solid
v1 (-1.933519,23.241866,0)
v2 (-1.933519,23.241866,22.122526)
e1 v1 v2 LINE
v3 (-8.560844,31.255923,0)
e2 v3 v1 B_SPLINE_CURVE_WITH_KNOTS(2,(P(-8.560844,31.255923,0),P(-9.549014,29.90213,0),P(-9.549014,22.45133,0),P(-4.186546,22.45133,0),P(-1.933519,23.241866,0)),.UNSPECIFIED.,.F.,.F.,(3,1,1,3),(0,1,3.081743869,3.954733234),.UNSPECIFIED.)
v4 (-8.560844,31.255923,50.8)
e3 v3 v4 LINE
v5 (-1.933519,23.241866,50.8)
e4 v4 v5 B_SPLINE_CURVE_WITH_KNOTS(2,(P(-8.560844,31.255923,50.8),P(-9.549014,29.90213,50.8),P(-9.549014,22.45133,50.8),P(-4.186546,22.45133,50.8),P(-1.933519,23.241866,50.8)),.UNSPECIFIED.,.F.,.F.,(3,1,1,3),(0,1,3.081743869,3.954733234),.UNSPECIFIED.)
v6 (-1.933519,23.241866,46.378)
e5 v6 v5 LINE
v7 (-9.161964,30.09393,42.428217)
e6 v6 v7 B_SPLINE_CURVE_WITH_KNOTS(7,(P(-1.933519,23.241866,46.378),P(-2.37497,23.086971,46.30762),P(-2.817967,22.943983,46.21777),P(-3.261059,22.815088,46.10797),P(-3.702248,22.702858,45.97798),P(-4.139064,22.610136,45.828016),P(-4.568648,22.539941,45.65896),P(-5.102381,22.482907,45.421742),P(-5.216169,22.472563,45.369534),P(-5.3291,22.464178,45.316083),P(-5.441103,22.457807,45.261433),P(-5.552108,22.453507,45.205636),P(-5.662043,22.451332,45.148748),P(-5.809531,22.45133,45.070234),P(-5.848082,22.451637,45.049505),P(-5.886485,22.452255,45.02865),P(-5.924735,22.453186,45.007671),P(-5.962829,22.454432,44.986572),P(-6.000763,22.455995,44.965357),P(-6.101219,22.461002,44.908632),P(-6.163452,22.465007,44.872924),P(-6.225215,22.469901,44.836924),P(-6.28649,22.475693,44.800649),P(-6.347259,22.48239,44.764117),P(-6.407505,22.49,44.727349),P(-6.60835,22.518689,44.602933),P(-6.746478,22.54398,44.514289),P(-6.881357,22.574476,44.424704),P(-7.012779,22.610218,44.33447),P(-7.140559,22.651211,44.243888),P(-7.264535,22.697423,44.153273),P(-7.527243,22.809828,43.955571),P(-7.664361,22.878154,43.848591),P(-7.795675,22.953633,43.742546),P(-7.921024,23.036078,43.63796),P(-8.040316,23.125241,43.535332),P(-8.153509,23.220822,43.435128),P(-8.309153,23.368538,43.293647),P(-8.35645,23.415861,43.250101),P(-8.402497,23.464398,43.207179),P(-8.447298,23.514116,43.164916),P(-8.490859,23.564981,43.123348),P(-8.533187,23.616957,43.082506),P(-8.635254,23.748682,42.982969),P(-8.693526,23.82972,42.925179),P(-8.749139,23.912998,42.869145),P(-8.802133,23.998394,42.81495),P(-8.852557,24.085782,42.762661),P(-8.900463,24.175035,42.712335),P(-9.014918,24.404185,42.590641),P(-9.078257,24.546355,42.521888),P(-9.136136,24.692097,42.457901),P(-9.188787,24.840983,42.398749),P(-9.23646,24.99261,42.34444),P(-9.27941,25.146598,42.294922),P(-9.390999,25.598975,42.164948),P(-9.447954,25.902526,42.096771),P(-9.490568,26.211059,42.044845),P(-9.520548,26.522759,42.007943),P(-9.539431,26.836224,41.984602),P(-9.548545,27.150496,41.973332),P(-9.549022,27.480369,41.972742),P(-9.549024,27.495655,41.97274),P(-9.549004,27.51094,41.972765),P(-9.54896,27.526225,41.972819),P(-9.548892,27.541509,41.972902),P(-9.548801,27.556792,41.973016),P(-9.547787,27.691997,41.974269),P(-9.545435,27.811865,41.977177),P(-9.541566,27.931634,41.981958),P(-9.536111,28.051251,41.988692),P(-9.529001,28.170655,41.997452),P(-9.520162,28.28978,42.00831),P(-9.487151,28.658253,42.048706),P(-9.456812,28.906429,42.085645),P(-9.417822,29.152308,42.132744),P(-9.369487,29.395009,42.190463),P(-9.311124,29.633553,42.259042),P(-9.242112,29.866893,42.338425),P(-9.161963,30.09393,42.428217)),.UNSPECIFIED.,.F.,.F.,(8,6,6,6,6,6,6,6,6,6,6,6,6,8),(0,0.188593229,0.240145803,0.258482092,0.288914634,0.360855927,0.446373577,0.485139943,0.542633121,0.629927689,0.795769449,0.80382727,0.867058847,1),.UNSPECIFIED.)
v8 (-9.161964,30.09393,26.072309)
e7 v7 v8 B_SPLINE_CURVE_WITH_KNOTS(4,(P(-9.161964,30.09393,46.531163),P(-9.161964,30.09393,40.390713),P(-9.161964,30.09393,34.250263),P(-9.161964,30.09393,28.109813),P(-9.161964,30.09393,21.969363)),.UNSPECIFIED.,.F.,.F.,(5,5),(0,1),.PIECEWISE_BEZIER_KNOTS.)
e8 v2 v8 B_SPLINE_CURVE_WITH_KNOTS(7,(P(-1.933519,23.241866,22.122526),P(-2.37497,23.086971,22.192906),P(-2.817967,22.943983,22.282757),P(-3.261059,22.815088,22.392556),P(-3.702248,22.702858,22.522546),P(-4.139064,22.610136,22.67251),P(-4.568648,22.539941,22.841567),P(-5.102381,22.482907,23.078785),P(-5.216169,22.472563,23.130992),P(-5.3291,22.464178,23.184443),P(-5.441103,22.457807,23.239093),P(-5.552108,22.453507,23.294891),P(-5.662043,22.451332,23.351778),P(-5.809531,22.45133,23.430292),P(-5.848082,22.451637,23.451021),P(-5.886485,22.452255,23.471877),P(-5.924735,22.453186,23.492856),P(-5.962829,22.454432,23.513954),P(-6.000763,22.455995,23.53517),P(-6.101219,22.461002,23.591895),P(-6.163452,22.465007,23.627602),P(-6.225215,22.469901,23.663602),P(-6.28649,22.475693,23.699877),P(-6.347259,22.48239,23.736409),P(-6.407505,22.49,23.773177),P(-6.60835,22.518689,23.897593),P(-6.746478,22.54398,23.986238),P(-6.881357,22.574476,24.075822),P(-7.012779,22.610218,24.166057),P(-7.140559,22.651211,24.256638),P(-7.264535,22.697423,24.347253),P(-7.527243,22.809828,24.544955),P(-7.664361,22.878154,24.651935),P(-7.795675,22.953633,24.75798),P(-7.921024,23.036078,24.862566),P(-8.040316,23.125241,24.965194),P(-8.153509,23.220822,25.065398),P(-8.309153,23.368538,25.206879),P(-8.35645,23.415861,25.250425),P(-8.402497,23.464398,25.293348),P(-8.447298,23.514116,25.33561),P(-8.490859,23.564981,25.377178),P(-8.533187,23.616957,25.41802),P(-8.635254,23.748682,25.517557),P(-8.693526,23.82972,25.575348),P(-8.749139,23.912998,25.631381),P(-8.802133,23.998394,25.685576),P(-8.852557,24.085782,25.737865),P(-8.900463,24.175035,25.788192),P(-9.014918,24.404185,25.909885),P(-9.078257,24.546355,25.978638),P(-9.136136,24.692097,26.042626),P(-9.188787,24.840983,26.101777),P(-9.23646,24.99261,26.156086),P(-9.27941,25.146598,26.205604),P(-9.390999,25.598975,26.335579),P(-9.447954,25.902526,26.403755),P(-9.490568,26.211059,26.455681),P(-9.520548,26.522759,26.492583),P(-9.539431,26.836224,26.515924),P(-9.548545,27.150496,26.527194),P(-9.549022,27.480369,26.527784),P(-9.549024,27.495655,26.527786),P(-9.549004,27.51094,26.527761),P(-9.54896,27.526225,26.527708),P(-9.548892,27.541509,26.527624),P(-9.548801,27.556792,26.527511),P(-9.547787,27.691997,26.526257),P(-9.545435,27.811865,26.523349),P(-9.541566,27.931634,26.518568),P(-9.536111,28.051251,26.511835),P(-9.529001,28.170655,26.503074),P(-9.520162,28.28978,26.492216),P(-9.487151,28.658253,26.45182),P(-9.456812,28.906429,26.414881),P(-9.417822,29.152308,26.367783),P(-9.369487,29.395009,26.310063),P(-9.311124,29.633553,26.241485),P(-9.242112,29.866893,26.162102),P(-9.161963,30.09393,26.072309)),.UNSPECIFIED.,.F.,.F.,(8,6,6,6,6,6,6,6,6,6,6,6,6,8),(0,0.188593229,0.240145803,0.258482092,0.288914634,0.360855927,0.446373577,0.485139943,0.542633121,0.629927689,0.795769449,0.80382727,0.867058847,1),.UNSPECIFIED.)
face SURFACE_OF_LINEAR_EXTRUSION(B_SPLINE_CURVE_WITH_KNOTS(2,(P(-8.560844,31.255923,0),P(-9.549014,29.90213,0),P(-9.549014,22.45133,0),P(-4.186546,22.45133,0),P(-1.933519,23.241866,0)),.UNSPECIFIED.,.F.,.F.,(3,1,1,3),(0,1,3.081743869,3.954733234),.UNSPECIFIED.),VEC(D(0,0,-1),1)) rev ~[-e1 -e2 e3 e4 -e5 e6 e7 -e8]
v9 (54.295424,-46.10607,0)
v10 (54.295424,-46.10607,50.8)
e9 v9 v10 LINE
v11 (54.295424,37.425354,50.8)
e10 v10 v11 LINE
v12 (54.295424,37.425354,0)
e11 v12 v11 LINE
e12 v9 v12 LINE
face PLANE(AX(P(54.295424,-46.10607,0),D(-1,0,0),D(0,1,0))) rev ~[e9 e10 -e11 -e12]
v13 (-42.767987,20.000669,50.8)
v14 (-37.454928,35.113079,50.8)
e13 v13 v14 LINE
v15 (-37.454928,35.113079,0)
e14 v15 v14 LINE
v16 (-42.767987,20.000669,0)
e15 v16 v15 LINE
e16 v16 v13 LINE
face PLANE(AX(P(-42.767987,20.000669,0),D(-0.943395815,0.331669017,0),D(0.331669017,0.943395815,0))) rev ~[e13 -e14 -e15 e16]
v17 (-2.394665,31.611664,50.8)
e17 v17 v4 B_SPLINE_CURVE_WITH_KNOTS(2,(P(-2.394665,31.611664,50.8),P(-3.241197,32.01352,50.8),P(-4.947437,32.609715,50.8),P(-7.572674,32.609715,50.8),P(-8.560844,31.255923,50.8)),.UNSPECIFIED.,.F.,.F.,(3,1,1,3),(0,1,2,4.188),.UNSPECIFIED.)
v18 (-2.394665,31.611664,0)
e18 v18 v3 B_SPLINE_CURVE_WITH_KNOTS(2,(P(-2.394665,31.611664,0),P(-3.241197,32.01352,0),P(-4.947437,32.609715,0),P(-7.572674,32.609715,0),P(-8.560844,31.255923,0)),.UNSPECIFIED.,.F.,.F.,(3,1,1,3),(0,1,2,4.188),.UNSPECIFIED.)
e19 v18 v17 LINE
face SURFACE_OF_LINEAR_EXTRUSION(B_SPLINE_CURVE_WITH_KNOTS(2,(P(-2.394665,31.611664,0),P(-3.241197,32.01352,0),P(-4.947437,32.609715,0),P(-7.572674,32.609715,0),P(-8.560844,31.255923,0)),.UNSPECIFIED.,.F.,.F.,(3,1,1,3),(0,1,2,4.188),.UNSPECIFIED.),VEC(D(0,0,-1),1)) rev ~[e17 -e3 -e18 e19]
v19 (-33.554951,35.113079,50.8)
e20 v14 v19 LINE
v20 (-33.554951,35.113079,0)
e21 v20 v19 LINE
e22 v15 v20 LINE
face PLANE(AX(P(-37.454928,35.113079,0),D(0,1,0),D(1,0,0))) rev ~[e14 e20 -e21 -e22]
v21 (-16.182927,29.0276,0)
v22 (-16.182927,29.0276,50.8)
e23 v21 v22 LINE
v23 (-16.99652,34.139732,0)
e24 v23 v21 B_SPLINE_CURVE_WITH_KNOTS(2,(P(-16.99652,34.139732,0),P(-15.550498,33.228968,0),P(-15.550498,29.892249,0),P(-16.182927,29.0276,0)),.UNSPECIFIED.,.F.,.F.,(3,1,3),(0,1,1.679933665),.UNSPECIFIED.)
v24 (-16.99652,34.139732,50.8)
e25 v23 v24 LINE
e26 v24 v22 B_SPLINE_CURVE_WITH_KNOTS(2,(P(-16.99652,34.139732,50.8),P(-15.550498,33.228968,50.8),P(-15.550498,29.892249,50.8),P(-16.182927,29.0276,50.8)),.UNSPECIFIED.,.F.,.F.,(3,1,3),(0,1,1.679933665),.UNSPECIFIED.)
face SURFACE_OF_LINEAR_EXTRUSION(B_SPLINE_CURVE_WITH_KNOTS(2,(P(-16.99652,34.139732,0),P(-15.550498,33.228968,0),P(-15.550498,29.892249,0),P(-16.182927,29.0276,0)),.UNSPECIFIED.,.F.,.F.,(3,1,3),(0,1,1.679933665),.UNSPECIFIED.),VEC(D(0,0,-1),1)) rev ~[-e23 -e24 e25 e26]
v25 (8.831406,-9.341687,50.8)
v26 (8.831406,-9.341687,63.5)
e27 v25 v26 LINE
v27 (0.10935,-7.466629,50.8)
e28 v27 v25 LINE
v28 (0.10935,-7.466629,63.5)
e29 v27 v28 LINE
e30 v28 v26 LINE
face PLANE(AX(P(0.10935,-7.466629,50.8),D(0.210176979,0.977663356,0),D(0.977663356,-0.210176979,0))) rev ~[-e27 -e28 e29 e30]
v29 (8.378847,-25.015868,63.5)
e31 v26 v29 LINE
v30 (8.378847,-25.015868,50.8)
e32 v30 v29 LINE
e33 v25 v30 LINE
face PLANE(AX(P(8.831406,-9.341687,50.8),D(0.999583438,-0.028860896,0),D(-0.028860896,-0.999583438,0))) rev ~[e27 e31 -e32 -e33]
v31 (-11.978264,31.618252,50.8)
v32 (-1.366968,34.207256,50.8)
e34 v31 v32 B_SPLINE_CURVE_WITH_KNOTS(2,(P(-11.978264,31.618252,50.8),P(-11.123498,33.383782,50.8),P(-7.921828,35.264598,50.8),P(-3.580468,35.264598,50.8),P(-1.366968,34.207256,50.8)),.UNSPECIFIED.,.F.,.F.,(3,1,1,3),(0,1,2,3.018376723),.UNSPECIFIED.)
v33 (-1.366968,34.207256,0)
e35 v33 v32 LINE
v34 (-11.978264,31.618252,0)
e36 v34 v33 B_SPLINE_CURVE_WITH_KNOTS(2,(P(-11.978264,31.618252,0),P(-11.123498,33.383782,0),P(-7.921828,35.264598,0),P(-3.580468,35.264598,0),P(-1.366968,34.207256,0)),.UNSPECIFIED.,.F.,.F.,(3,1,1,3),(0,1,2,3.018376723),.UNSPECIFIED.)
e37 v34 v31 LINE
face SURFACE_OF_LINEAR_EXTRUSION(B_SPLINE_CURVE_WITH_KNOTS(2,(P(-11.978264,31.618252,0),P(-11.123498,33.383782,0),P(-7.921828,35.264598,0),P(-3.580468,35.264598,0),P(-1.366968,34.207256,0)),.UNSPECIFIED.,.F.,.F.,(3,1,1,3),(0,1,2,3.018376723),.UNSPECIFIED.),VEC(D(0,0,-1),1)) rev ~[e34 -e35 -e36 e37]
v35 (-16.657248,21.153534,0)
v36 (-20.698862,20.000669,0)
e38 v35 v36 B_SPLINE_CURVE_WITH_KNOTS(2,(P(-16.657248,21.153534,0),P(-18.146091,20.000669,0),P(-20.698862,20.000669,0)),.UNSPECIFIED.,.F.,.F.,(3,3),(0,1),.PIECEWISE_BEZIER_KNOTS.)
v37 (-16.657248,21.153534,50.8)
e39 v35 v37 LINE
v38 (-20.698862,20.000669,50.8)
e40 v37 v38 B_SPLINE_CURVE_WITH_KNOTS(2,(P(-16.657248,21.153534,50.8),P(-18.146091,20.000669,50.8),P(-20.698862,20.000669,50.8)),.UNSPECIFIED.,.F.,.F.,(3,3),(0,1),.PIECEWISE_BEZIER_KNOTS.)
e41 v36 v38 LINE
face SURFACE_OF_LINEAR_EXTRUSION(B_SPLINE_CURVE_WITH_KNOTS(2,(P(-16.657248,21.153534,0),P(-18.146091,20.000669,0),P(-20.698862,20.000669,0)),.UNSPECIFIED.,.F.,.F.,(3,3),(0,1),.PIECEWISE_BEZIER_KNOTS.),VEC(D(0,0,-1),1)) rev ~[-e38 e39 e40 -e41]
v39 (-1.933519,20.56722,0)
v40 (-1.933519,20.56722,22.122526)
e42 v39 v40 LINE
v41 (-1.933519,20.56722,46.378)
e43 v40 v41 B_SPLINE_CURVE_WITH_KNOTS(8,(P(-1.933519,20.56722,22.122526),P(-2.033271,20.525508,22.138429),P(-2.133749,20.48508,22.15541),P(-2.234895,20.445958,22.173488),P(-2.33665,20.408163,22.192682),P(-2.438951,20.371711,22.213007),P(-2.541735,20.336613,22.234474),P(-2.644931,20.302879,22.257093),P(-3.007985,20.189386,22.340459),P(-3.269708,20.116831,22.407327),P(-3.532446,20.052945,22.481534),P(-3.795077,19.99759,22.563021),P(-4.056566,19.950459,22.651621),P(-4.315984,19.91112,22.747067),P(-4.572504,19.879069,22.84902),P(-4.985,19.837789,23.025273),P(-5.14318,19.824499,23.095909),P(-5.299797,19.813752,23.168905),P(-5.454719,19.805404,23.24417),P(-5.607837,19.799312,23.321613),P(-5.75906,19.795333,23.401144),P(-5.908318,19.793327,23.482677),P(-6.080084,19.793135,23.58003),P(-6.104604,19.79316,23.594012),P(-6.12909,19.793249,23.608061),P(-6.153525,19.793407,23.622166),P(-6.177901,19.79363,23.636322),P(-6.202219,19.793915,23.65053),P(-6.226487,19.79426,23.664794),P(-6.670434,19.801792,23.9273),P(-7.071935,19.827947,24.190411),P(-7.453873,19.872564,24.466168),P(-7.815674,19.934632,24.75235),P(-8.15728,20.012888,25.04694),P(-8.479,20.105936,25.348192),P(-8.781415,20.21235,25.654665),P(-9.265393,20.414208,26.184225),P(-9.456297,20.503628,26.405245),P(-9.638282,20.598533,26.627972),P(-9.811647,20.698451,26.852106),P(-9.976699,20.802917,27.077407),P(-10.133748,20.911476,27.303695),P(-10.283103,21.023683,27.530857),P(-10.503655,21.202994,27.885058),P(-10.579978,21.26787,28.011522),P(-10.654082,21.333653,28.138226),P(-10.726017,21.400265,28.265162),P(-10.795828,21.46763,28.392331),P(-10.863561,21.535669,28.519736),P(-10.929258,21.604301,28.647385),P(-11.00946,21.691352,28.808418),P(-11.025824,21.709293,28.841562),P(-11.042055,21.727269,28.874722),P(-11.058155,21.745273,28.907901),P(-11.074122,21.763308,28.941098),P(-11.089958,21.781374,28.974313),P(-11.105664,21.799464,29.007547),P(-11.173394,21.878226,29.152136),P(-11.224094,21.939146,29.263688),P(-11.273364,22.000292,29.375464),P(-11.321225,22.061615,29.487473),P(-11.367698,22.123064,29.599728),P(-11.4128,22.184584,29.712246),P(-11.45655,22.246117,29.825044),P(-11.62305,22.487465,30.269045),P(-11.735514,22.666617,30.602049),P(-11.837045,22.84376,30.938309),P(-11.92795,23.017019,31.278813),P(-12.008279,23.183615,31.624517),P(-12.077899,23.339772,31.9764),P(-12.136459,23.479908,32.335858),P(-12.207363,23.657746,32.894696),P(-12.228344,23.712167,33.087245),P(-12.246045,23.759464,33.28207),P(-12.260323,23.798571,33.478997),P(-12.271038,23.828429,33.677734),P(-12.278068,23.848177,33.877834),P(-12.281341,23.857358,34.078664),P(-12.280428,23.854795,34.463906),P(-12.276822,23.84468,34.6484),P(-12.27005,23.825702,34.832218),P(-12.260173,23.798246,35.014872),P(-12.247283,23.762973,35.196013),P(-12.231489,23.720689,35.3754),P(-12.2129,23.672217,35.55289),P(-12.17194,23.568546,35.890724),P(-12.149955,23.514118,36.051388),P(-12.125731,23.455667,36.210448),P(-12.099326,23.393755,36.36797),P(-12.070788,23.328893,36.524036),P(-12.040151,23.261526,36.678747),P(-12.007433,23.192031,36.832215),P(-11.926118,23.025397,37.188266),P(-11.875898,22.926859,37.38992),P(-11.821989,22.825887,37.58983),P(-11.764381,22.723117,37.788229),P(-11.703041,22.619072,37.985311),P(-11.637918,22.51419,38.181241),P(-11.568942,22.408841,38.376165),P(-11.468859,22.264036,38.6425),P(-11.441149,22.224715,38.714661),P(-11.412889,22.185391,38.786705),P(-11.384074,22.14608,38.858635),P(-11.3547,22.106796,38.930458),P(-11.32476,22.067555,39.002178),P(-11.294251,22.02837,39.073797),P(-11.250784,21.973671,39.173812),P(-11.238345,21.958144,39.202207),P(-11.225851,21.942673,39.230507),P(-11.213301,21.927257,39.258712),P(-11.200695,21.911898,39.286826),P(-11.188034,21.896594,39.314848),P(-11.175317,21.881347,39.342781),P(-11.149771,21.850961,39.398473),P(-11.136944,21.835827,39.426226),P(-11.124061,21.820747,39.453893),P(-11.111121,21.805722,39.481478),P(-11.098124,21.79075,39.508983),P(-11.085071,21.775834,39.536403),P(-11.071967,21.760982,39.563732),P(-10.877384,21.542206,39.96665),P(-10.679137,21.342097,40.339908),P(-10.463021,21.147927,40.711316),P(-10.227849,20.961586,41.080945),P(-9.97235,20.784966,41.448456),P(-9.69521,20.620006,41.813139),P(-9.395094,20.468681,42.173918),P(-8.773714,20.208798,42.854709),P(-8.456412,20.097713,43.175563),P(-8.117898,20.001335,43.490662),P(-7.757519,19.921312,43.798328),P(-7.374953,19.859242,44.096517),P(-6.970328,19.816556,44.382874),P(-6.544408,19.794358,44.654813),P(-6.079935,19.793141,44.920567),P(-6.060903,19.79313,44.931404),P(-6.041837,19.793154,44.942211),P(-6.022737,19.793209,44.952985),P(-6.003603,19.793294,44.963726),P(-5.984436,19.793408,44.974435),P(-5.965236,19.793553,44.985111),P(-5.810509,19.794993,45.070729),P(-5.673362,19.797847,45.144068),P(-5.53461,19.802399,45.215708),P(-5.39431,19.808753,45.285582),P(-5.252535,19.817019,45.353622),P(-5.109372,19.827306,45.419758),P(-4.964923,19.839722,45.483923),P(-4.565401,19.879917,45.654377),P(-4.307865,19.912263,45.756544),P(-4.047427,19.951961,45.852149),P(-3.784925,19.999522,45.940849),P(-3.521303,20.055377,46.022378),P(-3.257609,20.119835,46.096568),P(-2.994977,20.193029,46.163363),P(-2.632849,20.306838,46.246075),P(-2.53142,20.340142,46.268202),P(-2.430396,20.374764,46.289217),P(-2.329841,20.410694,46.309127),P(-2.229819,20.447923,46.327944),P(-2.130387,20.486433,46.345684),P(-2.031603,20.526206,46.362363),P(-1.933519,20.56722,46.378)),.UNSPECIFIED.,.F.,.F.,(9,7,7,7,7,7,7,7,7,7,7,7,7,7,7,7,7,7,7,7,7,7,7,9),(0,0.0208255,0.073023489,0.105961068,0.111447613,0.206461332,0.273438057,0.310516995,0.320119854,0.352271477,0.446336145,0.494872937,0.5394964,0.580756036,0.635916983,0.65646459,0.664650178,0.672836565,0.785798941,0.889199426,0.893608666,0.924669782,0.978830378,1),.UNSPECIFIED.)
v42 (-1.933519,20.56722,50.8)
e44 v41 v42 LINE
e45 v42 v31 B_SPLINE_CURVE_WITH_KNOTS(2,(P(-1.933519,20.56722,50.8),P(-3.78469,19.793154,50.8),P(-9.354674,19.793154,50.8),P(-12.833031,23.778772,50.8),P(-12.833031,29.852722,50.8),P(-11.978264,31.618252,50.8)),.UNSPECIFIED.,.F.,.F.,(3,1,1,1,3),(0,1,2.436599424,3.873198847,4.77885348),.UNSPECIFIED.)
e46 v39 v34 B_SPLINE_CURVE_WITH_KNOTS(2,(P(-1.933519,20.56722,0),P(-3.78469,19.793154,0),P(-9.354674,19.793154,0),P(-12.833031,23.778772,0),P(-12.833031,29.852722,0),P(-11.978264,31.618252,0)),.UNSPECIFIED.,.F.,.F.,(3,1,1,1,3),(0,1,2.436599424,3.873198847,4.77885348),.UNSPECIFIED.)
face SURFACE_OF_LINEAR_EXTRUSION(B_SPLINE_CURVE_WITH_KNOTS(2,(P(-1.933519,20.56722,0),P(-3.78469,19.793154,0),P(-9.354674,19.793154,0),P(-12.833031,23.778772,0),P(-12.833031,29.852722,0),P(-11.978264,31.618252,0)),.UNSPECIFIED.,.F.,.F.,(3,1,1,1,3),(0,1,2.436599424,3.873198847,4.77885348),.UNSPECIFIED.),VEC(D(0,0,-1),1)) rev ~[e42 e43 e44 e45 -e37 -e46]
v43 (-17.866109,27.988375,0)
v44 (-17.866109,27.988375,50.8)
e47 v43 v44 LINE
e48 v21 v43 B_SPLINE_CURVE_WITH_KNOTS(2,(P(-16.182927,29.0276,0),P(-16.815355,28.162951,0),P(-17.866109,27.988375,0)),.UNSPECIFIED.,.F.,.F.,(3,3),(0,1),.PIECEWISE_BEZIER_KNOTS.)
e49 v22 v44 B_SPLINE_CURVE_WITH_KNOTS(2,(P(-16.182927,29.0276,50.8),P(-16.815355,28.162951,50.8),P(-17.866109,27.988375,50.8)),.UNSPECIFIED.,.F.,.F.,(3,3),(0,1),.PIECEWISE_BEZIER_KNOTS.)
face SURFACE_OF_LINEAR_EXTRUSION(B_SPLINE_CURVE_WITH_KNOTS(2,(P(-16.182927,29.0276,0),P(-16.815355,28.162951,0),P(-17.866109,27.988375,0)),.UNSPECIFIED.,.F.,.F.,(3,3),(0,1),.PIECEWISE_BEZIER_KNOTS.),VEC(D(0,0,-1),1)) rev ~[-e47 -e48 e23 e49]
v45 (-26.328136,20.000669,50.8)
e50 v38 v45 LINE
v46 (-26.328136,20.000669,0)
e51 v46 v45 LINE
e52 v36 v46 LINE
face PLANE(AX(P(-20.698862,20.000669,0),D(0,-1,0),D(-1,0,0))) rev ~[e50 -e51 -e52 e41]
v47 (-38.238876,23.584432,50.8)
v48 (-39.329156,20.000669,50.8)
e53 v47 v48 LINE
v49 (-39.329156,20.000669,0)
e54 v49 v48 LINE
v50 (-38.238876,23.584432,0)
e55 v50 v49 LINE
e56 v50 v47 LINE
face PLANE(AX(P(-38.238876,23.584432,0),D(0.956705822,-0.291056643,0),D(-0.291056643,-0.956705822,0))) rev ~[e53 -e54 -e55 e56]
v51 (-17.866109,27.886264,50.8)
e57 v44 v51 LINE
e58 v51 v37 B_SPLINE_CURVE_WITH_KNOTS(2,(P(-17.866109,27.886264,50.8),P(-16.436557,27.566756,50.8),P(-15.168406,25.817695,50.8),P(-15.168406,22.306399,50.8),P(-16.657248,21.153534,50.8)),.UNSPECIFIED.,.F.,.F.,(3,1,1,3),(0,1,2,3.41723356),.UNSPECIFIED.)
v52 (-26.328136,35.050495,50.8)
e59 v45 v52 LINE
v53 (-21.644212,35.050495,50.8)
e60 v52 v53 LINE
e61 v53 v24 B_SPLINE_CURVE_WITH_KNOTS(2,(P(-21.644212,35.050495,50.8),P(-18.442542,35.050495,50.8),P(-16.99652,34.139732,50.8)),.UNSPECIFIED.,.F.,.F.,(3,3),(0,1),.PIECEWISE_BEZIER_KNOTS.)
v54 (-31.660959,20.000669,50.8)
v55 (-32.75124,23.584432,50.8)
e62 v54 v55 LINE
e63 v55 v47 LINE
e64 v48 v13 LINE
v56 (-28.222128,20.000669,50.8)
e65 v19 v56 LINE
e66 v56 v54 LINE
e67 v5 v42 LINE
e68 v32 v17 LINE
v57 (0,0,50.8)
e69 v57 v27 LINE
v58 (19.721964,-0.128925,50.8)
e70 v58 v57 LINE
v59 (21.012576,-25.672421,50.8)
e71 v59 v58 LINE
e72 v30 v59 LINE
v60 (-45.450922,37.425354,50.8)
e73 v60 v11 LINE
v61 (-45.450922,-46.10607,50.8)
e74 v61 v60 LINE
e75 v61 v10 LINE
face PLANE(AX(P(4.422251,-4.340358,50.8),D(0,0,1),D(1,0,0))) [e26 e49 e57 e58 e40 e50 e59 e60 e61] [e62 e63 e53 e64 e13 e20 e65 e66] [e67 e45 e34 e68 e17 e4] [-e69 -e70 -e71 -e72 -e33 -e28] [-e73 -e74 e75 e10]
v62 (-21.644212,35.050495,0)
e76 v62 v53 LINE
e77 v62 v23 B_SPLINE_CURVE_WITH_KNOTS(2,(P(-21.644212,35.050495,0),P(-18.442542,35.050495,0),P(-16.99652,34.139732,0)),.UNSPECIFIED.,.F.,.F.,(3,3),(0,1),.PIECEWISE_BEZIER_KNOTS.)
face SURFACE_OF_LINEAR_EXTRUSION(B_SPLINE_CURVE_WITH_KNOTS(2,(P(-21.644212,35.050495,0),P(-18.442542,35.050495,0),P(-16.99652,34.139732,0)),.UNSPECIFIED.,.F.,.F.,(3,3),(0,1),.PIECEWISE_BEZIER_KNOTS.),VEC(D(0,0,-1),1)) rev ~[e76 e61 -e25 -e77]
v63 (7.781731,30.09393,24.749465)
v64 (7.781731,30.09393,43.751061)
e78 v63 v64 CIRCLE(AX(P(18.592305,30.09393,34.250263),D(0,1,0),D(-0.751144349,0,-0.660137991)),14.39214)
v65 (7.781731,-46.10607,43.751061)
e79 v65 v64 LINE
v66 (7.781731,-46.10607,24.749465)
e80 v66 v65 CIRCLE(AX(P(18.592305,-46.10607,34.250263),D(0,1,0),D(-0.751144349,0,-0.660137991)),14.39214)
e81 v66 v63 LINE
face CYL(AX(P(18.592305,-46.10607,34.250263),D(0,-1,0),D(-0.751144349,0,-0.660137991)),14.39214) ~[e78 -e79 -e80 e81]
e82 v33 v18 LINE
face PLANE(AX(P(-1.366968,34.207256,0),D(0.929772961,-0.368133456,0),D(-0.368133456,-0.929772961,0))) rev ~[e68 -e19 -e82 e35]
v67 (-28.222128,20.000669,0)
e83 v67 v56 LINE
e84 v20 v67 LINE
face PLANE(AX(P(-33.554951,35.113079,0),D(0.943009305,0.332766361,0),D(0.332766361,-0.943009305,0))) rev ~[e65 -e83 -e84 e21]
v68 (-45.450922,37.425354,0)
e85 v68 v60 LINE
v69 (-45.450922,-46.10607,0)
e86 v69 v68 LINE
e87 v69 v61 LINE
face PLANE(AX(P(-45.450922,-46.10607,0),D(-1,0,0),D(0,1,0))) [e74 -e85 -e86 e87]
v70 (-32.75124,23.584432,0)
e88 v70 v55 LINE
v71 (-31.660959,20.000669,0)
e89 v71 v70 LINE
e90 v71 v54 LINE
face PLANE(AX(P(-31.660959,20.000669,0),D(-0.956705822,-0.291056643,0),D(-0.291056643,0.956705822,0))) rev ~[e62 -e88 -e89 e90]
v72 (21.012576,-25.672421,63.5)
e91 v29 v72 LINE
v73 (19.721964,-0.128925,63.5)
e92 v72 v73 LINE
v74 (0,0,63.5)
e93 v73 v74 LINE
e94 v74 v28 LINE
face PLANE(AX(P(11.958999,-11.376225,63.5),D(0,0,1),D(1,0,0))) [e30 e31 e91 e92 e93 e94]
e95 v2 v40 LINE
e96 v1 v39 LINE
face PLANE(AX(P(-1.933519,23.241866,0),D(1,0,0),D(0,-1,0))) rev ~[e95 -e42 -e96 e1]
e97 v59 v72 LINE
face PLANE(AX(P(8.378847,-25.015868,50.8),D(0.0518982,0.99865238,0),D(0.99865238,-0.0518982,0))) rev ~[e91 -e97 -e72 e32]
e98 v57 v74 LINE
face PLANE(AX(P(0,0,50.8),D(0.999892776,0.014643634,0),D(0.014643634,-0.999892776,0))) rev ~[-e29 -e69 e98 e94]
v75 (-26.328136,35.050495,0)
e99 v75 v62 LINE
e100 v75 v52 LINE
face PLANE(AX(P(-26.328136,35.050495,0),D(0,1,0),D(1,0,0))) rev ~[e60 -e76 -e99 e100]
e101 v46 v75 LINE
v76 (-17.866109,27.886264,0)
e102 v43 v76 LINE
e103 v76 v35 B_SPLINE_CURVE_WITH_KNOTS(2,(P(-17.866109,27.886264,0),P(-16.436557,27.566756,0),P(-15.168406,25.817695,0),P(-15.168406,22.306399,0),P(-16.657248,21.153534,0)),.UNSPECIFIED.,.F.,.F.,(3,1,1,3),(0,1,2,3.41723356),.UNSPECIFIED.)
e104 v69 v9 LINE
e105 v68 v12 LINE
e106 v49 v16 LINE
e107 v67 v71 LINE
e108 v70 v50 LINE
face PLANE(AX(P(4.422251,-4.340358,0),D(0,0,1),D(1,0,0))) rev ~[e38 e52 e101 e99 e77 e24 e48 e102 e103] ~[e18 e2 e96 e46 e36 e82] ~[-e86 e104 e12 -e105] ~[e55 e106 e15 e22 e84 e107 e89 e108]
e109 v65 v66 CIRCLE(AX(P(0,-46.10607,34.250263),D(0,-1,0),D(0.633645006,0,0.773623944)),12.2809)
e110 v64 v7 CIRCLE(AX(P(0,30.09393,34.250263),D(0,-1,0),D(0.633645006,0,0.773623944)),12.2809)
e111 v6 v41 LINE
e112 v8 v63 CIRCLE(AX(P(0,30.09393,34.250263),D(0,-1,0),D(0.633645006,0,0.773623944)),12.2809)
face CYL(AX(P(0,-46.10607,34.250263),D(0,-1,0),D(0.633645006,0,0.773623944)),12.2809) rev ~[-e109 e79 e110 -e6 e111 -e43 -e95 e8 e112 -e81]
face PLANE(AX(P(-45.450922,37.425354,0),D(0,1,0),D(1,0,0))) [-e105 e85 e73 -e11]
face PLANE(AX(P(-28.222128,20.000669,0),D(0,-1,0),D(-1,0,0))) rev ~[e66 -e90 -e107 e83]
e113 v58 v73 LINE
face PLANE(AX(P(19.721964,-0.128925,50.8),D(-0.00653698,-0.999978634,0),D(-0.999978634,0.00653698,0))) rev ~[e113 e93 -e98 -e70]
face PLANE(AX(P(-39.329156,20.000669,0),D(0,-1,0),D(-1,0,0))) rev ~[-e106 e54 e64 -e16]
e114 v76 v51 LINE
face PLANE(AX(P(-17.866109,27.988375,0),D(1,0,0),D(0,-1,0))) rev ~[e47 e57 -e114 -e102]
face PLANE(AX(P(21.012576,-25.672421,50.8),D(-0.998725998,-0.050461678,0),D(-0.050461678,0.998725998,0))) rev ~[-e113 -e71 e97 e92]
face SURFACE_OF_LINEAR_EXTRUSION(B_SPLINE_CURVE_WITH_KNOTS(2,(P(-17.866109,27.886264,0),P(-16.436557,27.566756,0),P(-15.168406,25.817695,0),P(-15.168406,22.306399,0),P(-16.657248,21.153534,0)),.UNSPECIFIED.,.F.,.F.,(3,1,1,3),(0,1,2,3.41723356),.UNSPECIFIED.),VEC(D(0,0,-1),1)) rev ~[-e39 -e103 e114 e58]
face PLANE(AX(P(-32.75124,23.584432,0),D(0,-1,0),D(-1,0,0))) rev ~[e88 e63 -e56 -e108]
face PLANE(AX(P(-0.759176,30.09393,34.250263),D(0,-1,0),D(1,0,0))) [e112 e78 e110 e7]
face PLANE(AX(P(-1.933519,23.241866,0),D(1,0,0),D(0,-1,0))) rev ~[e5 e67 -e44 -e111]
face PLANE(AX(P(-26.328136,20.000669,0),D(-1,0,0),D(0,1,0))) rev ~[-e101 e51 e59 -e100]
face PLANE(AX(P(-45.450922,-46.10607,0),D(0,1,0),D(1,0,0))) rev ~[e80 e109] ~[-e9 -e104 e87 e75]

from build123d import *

# Parameters (mm, degrees)
F0_W     = 99.7463464737
F0_H     = 83.5314244032
F1_DEPTH = 50.8
F3_DEPTH = 76.2
F5_DEPTH = 12.7


with BuildPart() as f1:
    # F0 (on Top) → F1 (new body)
    with BuildSketch(Plane.XY):
        with Locations((4.4222511351, -4.3403580785)):
            Rectangle(F0_W, F0_H)
        Polygon((-28.2221282138, 20.0006692662), (-31.6609589625, 20.0006692662), (-32.7512395926, 23.5844315791), (-38.2388756342, 23.5844315791), (-39.3291562643, 20.0006692662), (-42.767987013, 20.0006692662), (-37.4549276283, 35.1130787253), (-33.5549509937, 35.1130787253), align=None, mode=Mode.SUBTRACT)
        with BuildLine():
            Line((-26.3281361826, 20.0006692662), (-26.3281361826, 35.0504946407))
            Line((-26.3281361826, 35.0504946407), (-21.6442115421, 35.0504946407))
            add(Edge.make_bspline(
                [(-21.6442115421, 35.0504946407), (-18.4425415347, 35.0504946407), (-16.9965197926, 34.1397315162)],
                knots=[0, 0, 0, 1, 1, 1], degree=2))
            add(Edge.make_bspline(
                [(-16.9965197926, 34.1397315162), (-15.5504980506, 33.2289683917), (-15.5504980506, 31.2427471833)],
                knots=[0, 0, 0, 1, 1, 1], degree=2))
            add(Edge.make_bspline(
                [(-15.5504980506, 31.2427471833), (-15.5504980506, 29.8922485176), (-16.182926694, 29.0275999817)],
                knots=[0, 0, 0, 1, 1, 1], degree=2))
            add(Edge.make_bspline(
                [(-16.182926694, 29.0275999817), (-16.8153553375, 28.1629514457), (-17.8661091773, 27.9883747889)],
                knots=[0, 0, 0, 1, 1, 1], degree=2))
            Line((-17.8661091773, 27.9883747889), (-17.8661091773, 27.8862639142))
            add(Edge.make_bspline(
                [(-17.8661091773, 27.8862639142), (-16.4365569312, 27.5667556933), (-15.8024813382, 26.6922254598)],
                knots=[0, 0, 0, 1, 1, 1], degree=2))
            add(Edge.make_bspline(
                [(-15.8024813382, 26.6922254598), (-15.1684057452, 25.8176952263), (-15.1684057452, 24.3650856859)],
                knots=[0, 0, 0, 1, 1, 1], degree=2))
            add(Edge.make_bspline(
                [(-15.1684057452, 24.3650856859), (-15.1684057452, 22.3063986955), (-16.6572481766, 21.1535339809)],
                knots=[0, 0, 0, 1, 1, 1], degree=2))
            add(Edge.make_bspline(
                [(-16.6572481766, 21.1535339809), (-18.146090608, 20.0006692662), (-20.6988624761, 20.0006692662)],
                knots=[0, 0, 0, 1, 1, 1], degree=2))
            Line((-20.6988624761, 20.0006692662), (-26.3281361826, 20.0006692662))
        make_face(mode=Mode.SUBTRACT)
        with BuildLine():
            add(Edge.make_bspline(
                [(-4.0943166865, 32.3116174687), (-4.9474365753, 32.6097153449), (-5.7709113714, 32.6097153449)],
                knots=[0, 0, 0, 1, 1, 1], degree=2))
            add(Edge.make_bspline(
                [(-5.7709113714, 32.6097153449), (-7.5726742254, 32.6097153449), (-8.5608439808, 31.2559227801)],
                knots=[0, 0, 0, 1, 1, 1], degree=2))
            add(Edge.make_bspline(
                [(-8.5608439808, 31.2559227801), (-9.5490137362, 29.9021302152), (-9.5490137362, 27.4844082137)],
                knots=[0, 0, 0, 1, 1, 1], degree=2))
            add(Edge.make_bspline(
                [(-9.5490137362, 27.4844082137), (-9.5490137362, 22.4513302596), (-5.7709113714, 22.4513302596)],
                knots=[0, 0, 0, 1, 1, 1], degree=2))
            add(Edge.make_bspline(
                [(-5.7709113714, 22.4513302596), (-4.1865458636, 22.4513302596), (-1.9335188214, 23.2418660639)],
                knots=[0, 0, 0, 1, 1, 1], degree=2))
            Line((-1.9335188214, 23.2418660639), (-1.9335188214, 20.567219926))
            add(Edge.make_bspline(
                [(-1.9335188214, 20.567219926), (-3.7846901631, 19.7931536176), (-6.0706561972, 19.7931536176)],
                knots=[0, 0, 0, 1, 1, 1], degree=2))
            add(Edge.make_bspline(
                [(-6.0706561972, 19.7931536176), (-9.3546736843, 19.7931536176), (-11.0938524538, 21.7859626243)],
                knots=[0, 0, 0, 1, 1, 1], degree=2))
            add(Edge.make_bspline(
                [(-11.0938524538, 21.7859626243), (-12.8330312233, 23.778771631), (-12.8330312233, 27.5041716088)],
                knots=[0, 0, 0, 1, 1, 1], degree=2))
            add(Edge.make_bspline(
                [(-12.8330312233, 27.5041716088), (-12.8330312233, 29.8527217274), (-11.9782643849, 31.6182516904)],
                knots=[0, 0, 0, 1, 1, 1], degree=2))
            add(Edge.make_bspline(
                [(-11.9782643849, 31.6182516904), (-11.1234975464, 33.3837816533), (-9.5226625427, 34.3241898705)],
                knots=[0, 0, 0, 1, 1, 1], degree=2))
            add(Edge.make_bspline(
                [(-9.5226625427, 34.3241898705), (-7.921827539, 35.2645980877), (-5.7709113714, 35.2645980877)],
                knots=[0, 0, 0, 1, 1, 1], degree=2))
            add(Edge.make_bspline(
                [(-5.7709113714, 35.2645980877), (-3.5804684137, 35.2645980877), (-1.3669681616, 34.2072564495)],
                knots=[0, 0, 0, 1, 1, 1], degree=2))
            Line((-1.3669681616, 34.2072564495), (-2.3946647072, 31.611663892))
            add(Edge.make_bspline(
                [(-2.3946647072, 31.611663892), (-3.2411967977, 32.0135195925), (-4.0943166865, 32.3116174687)],
                knots=[0, 0, 0, 1, 1, 1], degree=2))
        make_face(mode=Mode.SUBTRACT)
    extrude(amount=F1_DEPTH)

    # F2 (on face) → F3 (cut)
    with BuildSketch(Plane.XZ.offset(46.1060702801)):
        with BuildLine():
            ThreePointArc((7.7817309512, 24.7494648312), (4.2001656167, 34.2502631247), (7.7817309512, 43.7510614182))
            ThreePointArc((7.7817309512, 43.7510614182), (-12.2809, 34.2502631247), (7.7817309512, 24.7494648312))
        make_face()
    extrude(amount=-F3_DEPTH, mode=Mode.SUBTRACT)

    # F4 (on face) → F5 (join)
    with BuildSketch(Plane.XY.offset(50.8)):
        Polygon((19.7219643742, -0.1289248466), (0, 0), (0.1093503088, -7.4666291475), (8.8314060122, -9.341686964), (8.3788465708, -25.0158682466), (21.0125762969, -25.6724208593), align=None)
    extrude(amount=F5_DEPTH)


solid = f1.part
